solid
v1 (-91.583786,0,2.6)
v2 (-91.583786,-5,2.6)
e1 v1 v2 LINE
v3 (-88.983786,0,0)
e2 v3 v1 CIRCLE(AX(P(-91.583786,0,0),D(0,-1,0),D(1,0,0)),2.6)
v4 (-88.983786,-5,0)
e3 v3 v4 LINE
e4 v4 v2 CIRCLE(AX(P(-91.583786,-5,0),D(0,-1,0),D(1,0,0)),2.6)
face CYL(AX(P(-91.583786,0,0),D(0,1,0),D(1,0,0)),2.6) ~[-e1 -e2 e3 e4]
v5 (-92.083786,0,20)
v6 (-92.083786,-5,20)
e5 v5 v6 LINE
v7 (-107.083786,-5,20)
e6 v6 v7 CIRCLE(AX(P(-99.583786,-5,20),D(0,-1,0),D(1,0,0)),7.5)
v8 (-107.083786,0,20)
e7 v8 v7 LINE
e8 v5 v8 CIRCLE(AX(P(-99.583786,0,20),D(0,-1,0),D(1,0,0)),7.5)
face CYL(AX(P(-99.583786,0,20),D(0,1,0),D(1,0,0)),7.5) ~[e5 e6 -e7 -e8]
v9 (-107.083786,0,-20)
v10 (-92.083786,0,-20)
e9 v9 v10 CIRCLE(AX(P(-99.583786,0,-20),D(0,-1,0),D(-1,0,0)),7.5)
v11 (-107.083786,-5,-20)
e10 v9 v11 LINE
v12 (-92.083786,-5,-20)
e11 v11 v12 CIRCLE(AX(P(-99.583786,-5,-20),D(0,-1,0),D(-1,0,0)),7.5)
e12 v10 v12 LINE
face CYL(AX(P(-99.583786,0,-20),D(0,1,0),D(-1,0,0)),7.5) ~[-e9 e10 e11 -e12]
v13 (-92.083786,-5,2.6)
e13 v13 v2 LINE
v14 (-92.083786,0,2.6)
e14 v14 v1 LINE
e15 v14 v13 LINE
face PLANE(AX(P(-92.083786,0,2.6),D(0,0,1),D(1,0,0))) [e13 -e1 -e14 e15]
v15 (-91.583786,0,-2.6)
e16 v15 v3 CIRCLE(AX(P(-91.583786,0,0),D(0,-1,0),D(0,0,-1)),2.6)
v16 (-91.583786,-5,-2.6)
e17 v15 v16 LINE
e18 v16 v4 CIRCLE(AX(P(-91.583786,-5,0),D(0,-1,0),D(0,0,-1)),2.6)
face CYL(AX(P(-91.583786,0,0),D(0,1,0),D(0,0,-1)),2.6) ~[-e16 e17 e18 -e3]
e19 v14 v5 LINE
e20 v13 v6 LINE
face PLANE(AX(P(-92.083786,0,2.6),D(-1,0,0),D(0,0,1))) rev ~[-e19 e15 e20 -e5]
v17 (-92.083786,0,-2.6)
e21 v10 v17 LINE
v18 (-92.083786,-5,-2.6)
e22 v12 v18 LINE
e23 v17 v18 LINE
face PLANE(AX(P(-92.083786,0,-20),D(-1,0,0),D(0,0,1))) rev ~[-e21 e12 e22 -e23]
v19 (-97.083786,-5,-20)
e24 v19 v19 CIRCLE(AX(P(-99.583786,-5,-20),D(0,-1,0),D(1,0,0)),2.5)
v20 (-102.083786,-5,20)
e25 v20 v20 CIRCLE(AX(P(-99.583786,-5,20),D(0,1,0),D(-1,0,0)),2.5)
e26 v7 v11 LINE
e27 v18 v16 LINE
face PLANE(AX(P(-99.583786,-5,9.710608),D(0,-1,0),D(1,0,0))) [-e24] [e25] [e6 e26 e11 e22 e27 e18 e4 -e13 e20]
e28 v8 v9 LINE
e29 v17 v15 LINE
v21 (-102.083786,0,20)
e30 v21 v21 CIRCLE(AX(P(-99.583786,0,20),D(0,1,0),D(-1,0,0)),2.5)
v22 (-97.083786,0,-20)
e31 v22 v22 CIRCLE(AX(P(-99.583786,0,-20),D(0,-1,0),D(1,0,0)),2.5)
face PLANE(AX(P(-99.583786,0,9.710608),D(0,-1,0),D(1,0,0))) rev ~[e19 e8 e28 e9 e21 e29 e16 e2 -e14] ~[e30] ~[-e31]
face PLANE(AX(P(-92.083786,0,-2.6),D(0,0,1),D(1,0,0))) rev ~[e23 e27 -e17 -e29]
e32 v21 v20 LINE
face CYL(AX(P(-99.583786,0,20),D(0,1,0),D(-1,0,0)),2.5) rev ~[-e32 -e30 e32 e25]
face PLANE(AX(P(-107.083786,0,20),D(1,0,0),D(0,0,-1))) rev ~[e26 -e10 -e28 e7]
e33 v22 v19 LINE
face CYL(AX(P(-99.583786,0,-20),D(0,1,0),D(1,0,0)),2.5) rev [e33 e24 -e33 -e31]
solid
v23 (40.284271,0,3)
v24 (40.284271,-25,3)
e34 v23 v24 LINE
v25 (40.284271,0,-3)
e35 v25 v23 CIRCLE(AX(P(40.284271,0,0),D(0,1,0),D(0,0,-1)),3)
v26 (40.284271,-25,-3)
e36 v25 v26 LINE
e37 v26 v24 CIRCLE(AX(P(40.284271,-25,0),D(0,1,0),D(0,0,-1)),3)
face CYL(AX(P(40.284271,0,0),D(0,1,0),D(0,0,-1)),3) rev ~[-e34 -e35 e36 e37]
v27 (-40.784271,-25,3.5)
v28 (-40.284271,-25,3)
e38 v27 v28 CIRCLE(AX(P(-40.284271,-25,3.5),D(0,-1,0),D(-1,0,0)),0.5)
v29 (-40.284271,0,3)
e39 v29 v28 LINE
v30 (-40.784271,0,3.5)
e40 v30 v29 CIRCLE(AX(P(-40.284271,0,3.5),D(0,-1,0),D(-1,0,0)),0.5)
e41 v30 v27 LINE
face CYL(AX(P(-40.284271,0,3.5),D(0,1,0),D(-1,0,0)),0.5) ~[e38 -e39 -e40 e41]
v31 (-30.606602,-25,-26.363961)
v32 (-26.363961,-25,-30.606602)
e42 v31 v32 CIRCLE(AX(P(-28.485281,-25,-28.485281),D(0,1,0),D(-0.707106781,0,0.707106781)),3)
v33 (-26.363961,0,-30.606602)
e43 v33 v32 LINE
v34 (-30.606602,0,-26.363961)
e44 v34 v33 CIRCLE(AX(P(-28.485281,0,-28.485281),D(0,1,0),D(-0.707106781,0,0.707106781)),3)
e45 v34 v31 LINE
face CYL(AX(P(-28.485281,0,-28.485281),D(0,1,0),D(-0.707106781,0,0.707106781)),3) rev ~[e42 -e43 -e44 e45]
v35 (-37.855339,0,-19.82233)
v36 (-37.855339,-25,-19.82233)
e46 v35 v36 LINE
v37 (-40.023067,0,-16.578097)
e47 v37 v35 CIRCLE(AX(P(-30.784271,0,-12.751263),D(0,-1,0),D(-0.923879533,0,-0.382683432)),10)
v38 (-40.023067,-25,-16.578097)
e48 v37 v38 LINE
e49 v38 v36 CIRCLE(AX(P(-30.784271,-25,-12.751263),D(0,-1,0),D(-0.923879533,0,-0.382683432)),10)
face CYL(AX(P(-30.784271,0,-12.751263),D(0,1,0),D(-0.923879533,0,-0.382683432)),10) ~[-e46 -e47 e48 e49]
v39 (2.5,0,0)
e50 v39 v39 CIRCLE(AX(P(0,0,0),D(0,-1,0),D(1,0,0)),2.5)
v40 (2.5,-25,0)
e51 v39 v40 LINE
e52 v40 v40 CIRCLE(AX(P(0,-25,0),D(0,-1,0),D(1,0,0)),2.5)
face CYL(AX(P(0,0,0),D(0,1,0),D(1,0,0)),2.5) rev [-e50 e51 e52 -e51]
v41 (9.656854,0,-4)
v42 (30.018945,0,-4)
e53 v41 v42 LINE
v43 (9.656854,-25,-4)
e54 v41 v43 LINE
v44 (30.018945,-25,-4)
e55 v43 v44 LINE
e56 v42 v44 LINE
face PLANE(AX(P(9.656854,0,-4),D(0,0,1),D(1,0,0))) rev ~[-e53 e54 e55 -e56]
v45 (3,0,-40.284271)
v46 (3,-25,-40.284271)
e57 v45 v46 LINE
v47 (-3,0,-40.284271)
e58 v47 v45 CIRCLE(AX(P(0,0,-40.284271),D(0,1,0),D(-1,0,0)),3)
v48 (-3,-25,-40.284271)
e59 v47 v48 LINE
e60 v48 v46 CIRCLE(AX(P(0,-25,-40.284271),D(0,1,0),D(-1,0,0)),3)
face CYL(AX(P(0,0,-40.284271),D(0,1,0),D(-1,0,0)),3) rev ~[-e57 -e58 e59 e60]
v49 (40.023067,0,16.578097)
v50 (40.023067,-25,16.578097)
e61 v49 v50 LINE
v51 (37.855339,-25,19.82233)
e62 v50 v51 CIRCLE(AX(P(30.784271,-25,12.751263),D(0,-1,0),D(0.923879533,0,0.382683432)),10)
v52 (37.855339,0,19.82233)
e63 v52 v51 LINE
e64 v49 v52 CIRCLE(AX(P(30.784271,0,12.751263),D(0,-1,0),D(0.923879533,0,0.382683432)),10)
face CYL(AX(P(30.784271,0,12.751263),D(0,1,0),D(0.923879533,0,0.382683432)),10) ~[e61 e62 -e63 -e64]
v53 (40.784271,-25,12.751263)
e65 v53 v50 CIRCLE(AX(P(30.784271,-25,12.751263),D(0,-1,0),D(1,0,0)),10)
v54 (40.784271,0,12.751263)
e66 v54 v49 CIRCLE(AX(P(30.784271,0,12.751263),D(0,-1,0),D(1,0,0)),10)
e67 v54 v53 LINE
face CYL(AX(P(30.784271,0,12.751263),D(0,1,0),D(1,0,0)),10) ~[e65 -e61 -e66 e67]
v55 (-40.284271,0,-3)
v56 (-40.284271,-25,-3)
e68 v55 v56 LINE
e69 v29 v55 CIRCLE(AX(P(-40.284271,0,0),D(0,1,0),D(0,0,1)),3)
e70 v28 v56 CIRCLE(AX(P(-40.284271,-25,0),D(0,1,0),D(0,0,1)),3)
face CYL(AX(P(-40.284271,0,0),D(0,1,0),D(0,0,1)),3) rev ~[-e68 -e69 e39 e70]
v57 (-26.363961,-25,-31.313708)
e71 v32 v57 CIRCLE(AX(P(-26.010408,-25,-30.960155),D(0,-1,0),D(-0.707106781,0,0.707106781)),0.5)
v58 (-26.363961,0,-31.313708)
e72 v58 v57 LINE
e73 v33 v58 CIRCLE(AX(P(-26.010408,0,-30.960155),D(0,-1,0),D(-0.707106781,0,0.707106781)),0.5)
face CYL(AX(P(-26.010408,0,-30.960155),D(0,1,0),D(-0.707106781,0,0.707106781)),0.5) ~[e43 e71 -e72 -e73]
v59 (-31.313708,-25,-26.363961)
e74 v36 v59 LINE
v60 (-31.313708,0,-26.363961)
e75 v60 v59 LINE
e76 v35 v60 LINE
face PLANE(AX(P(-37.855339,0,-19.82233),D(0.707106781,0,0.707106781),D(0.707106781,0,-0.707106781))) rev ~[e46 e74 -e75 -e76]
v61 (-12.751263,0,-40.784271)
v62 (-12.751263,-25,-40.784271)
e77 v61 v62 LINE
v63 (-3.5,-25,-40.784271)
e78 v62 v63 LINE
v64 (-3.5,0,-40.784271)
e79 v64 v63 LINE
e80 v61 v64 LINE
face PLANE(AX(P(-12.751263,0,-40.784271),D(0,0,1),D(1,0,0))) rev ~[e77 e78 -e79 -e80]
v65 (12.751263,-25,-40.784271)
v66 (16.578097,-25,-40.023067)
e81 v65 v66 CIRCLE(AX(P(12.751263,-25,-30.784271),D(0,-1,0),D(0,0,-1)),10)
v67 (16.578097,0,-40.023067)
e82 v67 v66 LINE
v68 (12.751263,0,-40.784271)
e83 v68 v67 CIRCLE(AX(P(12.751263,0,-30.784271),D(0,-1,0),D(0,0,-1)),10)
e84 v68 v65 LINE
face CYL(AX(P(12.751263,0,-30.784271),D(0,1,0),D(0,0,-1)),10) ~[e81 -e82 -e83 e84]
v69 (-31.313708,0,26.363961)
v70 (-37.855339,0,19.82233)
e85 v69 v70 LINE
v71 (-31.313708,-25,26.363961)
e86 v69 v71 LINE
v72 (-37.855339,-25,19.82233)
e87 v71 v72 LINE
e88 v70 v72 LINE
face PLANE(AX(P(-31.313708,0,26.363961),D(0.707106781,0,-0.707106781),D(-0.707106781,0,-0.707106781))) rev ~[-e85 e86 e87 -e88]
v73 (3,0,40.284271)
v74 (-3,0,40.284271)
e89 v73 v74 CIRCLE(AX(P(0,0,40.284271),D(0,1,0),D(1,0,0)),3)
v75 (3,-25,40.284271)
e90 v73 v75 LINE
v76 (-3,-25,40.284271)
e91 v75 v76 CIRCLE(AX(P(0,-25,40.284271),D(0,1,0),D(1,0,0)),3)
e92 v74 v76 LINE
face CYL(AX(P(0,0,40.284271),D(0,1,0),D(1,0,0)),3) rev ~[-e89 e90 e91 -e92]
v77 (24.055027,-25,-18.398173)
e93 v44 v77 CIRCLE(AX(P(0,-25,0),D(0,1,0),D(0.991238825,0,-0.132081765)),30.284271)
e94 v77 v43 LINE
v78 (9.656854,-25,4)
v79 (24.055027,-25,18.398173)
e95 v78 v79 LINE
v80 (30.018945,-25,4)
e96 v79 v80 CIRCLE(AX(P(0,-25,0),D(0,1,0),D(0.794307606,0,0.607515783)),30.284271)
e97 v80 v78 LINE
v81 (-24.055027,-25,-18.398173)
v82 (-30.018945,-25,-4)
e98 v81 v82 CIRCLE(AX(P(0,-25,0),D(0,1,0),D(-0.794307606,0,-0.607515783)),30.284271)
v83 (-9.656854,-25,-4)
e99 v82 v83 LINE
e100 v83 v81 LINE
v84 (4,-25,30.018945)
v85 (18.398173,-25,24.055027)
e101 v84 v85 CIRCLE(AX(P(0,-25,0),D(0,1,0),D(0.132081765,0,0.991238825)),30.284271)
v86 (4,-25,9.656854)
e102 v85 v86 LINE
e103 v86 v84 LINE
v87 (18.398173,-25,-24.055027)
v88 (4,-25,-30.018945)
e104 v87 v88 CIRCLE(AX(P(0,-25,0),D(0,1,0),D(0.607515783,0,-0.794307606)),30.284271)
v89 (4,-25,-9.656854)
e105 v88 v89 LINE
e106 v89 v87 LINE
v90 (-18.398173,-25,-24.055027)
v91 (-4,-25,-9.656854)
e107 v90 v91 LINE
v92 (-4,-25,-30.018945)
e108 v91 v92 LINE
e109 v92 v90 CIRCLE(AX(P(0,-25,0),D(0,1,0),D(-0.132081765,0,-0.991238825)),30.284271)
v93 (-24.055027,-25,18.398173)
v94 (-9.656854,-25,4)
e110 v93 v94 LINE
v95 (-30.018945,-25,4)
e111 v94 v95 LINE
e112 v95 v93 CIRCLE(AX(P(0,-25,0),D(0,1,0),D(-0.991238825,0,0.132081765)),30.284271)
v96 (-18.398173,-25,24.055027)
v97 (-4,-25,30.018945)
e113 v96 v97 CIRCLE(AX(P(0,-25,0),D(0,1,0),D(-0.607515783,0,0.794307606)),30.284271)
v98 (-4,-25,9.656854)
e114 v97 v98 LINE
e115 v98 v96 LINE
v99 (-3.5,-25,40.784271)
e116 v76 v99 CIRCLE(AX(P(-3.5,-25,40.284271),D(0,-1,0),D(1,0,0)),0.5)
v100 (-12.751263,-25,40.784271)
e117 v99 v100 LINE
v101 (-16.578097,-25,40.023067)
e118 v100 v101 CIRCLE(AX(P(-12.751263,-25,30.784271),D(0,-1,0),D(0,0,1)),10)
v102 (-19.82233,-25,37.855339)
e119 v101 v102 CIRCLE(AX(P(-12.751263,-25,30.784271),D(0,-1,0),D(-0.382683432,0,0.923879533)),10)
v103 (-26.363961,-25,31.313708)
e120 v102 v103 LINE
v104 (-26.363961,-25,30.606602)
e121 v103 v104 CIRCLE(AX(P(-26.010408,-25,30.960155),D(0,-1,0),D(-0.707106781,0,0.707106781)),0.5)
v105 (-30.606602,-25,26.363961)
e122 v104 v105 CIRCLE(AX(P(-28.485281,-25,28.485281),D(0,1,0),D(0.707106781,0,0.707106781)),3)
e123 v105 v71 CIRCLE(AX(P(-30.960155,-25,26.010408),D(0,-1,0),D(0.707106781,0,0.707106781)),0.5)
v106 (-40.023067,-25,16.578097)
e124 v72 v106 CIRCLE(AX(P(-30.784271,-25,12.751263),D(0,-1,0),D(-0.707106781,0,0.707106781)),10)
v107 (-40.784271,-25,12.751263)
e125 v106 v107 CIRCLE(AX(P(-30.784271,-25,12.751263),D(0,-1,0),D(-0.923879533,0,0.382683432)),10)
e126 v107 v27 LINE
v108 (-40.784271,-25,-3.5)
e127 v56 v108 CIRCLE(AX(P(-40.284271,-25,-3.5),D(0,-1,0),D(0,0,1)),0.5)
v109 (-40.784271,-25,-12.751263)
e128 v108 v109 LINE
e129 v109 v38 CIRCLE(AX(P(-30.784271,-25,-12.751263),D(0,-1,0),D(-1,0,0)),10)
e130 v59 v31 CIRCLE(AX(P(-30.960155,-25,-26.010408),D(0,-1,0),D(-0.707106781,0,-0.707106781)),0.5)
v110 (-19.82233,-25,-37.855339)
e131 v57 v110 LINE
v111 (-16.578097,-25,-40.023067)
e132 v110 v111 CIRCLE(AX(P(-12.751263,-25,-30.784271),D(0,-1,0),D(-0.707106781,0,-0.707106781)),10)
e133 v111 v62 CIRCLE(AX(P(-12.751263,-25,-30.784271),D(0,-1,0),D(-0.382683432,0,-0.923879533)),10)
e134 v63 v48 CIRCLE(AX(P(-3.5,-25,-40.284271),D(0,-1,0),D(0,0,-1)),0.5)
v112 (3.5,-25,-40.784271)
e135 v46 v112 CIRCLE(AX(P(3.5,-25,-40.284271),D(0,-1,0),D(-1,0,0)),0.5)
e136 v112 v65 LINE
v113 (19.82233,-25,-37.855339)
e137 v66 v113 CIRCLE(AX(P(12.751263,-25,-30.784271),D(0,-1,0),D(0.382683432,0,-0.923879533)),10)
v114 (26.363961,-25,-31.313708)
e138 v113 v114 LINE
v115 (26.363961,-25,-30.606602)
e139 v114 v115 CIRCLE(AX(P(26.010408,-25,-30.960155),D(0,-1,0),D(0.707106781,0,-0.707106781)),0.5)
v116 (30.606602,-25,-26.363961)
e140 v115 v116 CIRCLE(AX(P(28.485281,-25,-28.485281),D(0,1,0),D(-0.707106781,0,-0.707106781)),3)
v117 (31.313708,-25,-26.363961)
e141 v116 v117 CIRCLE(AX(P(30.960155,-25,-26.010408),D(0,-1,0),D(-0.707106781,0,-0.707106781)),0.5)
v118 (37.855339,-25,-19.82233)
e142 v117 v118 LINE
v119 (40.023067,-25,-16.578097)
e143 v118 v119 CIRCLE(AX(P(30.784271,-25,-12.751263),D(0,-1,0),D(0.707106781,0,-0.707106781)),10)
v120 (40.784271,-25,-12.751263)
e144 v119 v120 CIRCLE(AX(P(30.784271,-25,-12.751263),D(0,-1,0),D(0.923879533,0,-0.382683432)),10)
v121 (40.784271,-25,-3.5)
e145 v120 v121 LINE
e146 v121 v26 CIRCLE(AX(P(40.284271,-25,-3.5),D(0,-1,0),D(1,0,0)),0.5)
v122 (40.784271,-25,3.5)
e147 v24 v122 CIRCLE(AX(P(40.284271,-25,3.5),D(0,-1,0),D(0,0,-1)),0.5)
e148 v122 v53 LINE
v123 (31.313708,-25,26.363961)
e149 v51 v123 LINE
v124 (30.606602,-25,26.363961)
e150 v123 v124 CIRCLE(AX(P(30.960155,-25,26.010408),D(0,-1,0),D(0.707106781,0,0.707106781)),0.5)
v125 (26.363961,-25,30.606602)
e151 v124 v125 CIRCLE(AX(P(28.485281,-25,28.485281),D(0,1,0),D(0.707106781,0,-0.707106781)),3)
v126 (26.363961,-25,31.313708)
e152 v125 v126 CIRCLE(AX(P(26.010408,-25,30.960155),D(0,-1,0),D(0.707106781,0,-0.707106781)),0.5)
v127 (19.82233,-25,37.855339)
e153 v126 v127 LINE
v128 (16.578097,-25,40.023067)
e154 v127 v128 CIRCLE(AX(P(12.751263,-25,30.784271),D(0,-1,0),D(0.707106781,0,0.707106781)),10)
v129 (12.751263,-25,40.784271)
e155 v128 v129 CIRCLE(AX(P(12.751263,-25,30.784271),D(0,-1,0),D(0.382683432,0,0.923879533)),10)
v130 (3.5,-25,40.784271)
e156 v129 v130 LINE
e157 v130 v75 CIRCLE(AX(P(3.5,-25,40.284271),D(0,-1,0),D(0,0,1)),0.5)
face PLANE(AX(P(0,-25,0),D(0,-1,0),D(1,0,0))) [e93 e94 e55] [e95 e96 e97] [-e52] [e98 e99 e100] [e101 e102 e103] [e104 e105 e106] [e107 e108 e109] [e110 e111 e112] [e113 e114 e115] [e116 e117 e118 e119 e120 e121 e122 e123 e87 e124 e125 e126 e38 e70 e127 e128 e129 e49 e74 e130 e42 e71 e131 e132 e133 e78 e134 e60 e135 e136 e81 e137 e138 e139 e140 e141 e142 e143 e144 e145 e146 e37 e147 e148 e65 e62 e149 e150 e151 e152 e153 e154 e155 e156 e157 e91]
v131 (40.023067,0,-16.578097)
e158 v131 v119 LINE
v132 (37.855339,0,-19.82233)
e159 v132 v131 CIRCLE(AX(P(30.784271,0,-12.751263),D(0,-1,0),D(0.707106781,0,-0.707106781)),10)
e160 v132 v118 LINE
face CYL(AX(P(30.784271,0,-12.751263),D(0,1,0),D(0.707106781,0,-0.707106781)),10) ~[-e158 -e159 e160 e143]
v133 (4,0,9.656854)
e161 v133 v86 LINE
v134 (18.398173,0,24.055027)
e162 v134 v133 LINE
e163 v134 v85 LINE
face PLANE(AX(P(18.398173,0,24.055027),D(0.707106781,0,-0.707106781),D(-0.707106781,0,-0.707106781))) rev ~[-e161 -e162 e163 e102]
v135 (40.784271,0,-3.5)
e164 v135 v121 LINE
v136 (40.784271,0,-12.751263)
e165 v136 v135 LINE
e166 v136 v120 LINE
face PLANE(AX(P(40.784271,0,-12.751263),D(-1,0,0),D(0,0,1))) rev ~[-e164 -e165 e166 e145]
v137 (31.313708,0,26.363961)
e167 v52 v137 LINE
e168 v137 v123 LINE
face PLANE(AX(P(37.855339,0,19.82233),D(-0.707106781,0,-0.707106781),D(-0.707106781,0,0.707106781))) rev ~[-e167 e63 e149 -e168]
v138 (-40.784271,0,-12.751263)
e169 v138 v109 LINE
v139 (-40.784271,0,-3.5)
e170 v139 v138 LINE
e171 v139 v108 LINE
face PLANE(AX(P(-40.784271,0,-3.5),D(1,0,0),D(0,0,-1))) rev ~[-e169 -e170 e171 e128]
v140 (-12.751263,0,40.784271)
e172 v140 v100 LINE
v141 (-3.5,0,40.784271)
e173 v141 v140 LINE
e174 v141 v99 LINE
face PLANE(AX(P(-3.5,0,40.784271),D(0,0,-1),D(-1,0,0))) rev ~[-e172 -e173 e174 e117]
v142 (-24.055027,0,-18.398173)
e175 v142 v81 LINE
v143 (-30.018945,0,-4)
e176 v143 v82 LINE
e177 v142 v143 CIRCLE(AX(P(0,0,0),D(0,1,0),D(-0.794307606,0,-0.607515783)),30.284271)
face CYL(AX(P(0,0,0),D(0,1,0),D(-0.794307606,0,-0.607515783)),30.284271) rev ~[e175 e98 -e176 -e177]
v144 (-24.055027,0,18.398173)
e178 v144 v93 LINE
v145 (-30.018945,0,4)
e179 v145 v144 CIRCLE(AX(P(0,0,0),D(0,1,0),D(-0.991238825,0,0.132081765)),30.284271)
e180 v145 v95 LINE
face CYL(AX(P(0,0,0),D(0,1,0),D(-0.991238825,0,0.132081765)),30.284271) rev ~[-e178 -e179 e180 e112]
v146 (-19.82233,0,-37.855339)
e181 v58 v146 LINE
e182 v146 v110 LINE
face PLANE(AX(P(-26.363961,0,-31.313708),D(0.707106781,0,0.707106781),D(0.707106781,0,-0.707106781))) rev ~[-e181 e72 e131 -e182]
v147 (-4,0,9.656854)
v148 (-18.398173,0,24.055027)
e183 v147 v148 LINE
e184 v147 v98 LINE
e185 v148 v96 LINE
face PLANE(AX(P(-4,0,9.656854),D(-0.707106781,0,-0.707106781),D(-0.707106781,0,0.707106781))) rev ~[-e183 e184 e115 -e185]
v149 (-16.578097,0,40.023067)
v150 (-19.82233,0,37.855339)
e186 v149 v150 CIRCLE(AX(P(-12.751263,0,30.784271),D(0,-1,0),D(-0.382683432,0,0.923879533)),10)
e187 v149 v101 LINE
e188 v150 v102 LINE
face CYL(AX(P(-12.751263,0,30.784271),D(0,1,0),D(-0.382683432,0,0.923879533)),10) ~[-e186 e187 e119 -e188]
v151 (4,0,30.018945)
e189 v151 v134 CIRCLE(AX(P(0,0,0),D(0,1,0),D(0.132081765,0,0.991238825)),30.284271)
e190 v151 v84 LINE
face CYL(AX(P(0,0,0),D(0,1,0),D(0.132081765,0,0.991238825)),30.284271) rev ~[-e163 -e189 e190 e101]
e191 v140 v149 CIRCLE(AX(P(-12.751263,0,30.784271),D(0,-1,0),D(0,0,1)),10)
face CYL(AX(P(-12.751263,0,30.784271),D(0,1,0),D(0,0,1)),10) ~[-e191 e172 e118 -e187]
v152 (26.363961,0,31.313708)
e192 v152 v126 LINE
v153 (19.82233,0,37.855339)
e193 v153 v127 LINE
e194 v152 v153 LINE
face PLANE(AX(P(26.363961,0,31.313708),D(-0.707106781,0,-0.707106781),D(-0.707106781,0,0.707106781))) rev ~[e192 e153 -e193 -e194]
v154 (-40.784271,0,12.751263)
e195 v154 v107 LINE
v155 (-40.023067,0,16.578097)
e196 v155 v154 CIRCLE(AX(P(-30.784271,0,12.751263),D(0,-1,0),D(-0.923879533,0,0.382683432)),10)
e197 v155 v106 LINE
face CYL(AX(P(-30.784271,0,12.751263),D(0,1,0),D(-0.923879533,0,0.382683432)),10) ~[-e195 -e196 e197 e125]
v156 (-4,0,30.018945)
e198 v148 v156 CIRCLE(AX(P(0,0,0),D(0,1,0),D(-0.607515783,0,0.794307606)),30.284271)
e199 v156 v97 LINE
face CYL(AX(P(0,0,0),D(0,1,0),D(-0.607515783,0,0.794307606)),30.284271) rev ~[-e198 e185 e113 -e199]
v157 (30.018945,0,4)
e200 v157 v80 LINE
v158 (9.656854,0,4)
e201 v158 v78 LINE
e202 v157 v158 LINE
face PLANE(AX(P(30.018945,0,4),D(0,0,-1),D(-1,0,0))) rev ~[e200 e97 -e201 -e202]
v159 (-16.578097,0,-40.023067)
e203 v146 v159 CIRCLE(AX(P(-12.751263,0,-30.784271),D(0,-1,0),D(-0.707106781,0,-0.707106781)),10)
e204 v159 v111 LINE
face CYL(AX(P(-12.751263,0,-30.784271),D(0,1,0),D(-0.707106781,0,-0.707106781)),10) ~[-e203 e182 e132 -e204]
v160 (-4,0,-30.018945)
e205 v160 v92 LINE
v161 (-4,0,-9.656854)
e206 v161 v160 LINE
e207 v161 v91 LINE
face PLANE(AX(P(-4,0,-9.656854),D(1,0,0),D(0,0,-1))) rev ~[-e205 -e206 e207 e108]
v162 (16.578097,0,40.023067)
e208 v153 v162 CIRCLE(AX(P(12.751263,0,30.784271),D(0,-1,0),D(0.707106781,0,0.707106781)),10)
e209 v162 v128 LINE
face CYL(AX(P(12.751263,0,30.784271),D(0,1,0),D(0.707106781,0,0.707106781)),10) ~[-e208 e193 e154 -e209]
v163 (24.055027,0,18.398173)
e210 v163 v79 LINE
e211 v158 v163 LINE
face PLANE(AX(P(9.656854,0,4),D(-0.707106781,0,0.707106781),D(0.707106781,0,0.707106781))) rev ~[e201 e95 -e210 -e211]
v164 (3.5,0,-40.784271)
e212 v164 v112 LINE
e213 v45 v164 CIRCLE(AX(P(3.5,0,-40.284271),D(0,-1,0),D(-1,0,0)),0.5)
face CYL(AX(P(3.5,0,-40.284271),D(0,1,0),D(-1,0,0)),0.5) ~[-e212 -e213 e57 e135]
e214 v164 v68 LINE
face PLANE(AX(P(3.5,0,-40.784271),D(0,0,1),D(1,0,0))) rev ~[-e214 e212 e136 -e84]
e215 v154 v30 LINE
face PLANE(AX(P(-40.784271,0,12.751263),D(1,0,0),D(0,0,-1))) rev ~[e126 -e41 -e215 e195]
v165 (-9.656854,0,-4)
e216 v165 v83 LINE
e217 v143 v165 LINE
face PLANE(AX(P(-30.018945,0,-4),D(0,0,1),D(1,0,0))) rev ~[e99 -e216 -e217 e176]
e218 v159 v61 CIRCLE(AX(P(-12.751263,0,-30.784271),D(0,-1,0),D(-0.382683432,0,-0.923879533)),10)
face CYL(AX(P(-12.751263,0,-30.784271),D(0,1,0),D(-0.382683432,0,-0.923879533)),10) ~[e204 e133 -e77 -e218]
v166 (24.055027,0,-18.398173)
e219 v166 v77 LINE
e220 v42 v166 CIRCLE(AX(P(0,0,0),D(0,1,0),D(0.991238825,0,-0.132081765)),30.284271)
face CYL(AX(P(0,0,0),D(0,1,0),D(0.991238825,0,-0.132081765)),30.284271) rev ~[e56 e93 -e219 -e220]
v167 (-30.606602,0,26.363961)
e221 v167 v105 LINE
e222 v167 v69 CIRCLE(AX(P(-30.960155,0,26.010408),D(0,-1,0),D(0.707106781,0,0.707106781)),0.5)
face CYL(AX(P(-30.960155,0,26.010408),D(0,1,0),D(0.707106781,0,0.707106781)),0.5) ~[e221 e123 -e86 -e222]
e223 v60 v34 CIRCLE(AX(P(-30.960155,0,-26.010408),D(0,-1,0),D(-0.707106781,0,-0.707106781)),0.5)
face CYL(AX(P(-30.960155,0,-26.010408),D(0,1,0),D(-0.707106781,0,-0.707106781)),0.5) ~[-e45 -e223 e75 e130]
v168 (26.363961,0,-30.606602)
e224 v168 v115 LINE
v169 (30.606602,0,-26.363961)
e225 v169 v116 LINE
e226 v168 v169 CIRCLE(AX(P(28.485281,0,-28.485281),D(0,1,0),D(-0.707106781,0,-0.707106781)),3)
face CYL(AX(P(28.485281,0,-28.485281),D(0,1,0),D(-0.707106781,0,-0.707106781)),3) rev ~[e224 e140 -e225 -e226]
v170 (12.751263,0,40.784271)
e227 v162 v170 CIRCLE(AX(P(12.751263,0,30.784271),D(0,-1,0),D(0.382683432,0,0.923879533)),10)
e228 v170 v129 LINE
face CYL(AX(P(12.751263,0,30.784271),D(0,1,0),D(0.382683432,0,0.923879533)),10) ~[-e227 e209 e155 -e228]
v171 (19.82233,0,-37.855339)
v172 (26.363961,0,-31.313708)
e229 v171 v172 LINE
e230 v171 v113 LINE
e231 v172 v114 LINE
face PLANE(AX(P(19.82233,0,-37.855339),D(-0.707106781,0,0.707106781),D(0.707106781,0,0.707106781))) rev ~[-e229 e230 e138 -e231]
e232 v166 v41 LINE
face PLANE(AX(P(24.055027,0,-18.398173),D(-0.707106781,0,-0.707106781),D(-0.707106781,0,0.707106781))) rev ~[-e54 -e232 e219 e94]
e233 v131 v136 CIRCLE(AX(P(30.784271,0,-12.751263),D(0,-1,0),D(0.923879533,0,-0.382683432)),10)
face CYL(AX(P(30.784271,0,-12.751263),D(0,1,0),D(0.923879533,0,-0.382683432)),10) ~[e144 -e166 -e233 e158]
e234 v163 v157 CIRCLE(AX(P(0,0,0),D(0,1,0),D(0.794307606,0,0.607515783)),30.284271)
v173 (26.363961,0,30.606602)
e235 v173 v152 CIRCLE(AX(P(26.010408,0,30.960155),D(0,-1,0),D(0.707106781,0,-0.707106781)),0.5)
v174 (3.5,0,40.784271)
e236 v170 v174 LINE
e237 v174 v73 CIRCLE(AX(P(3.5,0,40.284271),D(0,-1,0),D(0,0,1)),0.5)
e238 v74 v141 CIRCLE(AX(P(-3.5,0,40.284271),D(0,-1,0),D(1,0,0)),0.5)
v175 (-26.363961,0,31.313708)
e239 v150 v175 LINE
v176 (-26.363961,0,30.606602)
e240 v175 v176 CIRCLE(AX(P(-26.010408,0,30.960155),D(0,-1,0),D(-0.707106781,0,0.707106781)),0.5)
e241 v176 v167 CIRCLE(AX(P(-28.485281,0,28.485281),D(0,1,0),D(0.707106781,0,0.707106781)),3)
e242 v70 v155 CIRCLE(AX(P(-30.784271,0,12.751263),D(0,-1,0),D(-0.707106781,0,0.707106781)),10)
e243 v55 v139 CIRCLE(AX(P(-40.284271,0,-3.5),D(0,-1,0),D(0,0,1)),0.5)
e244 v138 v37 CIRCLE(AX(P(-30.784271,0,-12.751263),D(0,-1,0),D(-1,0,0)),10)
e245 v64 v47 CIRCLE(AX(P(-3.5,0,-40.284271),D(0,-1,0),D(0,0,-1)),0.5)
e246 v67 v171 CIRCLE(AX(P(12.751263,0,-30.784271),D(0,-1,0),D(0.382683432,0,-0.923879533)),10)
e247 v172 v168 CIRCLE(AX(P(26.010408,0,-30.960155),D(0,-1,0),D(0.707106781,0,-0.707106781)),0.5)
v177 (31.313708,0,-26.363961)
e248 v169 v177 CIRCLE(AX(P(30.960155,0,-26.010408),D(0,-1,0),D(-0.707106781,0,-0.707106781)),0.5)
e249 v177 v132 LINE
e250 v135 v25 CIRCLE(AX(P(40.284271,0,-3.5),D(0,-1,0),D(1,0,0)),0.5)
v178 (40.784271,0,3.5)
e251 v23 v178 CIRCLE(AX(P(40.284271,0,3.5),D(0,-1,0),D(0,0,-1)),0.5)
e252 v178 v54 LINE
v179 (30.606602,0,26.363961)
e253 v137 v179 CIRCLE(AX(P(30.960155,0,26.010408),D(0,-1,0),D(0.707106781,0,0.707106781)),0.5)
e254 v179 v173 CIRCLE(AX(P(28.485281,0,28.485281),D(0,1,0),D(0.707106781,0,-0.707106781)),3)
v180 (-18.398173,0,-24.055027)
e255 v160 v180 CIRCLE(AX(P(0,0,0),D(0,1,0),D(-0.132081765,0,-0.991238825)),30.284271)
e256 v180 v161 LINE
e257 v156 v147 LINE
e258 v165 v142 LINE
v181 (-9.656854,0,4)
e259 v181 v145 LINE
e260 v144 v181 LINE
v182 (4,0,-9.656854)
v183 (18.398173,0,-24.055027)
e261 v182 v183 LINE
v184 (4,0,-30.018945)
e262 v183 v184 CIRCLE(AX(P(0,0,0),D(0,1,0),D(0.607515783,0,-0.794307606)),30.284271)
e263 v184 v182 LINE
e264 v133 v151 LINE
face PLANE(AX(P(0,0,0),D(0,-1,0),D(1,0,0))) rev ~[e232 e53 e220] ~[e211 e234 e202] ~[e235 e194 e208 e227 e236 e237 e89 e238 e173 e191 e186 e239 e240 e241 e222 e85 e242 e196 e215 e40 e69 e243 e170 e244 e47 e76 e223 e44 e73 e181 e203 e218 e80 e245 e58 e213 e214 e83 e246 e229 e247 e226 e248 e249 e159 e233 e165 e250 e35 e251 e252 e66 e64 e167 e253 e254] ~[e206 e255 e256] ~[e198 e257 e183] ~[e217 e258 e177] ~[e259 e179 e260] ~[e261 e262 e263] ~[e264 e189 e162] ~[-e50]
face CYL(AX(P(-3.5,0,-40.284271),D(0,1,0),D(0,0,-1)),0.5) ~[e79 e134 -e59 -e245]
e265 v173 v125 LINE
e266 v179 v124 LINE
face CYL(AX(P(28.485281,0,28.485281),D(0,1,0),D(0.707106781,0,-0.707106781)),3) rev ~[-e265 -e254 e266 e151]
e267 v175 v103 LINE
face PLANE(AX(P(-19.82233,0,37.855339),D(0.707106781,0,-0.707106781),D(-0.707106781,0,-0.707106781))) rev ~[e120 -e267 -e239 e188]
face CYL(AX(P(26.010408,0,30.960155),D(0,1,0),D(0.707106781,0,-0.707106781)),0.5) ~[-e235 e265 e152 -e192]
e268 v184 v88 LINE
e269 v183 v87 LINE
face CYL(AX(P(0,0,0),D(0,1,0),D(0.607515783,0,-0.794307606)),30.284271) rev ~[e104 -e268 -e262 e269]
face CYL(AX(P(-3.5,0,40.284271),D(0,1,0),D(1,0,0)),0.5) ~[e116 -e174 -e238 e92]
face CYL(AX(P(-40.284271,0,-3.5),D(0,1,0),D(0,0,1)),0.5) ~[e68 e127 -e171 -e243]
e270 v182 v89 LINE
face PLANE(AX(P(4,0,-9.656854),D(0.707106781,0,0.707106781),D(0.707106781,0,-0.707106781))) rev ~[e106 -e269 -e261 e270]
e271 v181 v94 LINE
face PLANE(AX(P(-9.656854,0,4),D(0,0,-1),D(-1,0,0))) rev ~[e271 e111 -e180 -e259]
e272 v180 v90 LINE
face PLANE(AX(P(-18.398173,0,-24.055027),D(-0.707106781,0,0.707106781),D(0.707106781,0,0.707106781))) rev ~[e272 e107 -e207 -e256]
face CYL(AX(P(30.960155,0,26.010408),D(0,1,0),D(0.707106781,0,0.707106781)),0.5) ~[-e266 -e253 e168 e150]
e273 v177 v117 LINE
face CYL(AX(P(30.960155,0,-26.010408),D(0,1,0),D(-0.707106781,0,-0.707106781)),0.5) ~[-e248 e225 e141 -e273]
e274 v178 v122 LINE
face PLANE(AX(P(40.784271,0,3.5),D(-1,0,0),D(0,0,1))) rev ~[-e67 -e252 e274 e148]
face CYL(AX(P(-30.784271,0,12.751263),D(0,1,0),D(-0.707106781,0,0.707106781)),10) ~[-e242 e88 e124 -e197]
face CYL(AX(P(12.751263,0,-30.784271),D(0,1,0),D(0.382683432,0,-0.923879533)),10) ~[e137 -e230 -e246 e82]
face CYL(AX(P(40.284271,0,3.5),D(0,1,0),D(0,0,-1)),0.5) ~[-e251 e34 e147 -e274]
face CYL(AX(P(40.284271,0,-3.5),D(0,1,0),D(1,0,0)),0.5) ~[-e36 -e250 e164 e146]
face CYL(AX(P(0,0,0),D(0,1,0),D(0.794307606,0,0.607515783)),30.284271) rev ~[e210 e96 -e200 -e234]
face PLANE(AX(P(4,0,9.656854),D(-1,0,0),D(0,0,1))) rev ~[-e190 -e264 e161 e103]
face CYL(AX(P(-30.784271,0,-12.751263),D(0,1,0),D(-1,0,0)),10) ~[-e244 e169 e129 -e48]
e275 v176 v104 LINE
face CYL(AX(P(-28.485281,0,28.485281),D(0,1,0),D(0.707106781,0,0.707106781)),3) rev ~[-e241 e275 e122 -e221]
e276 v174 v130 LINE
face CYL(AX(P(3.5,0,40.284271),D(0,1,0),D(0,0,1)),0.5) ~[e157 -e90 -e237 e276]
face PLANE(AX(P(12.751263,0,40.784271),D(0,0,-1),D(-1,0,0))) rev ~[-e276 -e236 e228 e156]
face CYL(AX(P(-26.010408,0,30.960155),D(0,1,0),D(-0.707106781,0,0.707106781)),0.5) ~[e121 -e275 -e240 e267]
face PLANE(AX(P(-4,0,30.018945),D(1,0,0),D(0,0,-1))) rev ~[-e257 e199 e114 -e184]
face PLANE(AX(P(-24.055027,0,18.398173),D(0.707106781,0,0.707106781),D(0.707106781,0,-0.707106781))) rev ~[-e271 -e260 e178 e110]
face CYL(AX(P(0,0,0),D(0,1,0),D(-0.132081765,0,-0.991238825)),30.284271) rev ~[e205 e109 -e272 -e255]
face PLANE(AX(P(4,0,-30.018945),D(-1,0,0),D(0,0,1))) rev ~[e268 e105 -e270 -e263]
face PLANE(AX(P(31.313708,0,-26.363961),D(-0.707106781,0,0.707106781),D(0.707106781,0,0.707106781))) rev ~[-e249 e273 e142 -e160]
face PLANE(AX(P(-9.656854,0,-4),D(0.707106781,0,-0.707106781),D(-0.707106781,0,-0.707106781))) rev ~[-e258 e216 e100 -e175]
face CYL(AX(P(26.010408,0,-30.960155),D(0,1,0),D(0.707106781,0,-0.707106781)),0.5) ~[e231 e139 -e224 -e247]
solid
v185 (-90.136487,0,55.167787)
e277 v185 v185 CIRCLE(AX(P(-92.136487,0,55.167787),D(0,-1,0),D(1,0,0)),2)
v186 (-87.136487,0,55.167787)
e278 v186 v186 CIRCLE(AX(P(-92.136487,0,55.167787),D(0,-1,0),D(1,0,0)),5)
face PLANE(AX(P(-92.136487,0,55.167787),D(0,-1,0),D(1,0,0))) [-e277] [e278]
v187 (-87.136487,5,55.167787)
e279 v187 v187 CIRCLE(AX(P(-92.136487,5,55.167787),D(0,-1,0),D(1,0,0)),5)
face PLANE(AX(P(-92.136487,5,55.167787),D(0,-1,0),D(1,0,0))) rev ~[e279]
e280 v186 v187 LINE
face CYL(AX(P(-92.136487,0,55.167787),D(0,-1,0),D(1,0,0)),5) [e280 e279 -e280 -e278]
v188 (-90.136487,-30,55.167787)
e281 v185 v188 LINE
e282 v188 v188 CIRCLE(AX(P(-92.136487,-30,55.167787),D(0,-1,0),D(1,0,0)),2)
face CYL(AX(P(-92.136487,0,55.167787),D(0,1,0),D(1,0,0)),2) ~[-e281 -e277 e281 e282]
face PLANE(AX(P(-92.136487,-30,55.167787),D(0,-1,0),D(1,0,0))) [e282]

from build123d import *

# Parameters (mm, degrees)
F0_W     = 0.5
F0_H     = 2.6
F0_R     = 2.5
F1_DEPTH = 5
F2_DEPTH = 25
F0_R_2   = 2
F3_DEPTH = 30
F0_R_3   = 5
F4_DEPTH = 5


with BuildPart() as f1:
    # F0 (on Front) → F1 (new body)
    with BuildSketch(Plane.XZ):
        with BuildLine():
            Line((-92.0837859809, 2.6), (-92.0837859809, 20))
            ThreePointArc((-92.0837859809, 20), (-99.5837859809, 12.5), (-107.0837859809, 20))
            Line((-107.0837859809, 20), (-107.0837859809, 0))
            Line((-107.0837859809, 0), (-92.0837859809, 0))
            Line((-92.0837859809, 0), (-92.0837859809, 2.6))
        make_face()
        with BuildLine():
            Line((-92.0837859809, -2.6), (-92.0837859809, 0))
            Line((-92.0837859809, 0), (-107.0837859809, 0))
            Line((-107.0837859809, 0), (-107.0837859809, -20))
            ThreePointArc((-107.0837859809, -20), (-99.5837859809, -12.5), (-92.0837859809, -20))
            Line((-92.0837859809, -20), (-92.0837859809, -2.6))
        make_face()
        with BuildLine():
            Line((-92.0837859809, 20), (-97.0837859809, 20))
            ThreePointArc((-97.0837859809, 20), (-99.5837859809, 17.5), (-102.0837859809, 20))
            Line((-102.0837859809, 20), (-107.0837859809, 20))
            ThreePointArc((-107.0837859809, 20), (-99.5837859809, 12.5), (-92.0837859809, 20))
        make_face()
        with BuildLine():
            ThreePointArc((-102.0837859809, 20), (-99.5837859809, 22.5), (-97.0837859809, 20))
            Line((-97.0837859809, 20), (-92.0837859809, 20))
            ThreePointArc((-92.0837859809, 20), (-99.5837859809, 27.5), (-107.0837859809, 20))
            Line((-107.0837859809, 20), (-102.0837859809, 20))
        make_face()
        with BuildLine():
            Line((-91.5837859809, 0), (-92.0837859809, 0))
            Line((-92.0837859809, 0), (-92.0837859809, -2.6))
            Line((-92.0837859809, -2.6), (-91.5837859809, -2.6))
            ThreePointArc((-91.5837859809, -2.6), (-89.7453083499, -1.8384776311), (-88.9837859809, 0))
            ThreePointArc((-88.9837859809, 0), (-89.7453083499, 1.8384776311), (-91.5837859809, 2.6))
            Line((-91.5837859809, 2.6), (-91.5837859809, 0))
        make_face()
        with Locations((-91.8337859809, 1.3)):
            Rectangle(F0_W, F0_H)
        with BuildLine():
            ThreePointArc((-92.0837859809, -20), (-99.5837859809, -12.5), (-107.0837859809, -20))
            ThreePointArc((-107.0837859809, -20), (-99.5837859809, -27.5), (-92.0837859809, -20))
        make_face()
        with Locations((-99.5837859809, -20)):
            Circle(F0_R, mode=Mode.SUBTRACT)
    extrude(amount=F1_DEPTH)


with BuildPart() as f2:
    # F0 (on Front) → F2 (new body)
    with BuildSketch(Plane.XZ):
        with BuildLine():
            Line((40.7842712475, -12.7512626585), (40.7842712475, -3.5))
            ThreePointArc((40.7842712475, -3.5), (40.6378246381, -3.1464466094), (40.2842712475, -3))
            ThreePointArc((40.2842712475, -3), (37.2842712475, 0), (40.2842712475, 3))
            ThreePointArc((40.2842712475, 3), (40.6378246381, 3.1464466094), (40.7842712475, 3.5))
            Line((40.7842712475, 3.5), (40.7842712475, 12.7512626585))
            ThreePointArc((40.7842712475, 12.7512626585), (40.5921240515, 14.7021658786), (40.0230665726, 16.5780969821))
            ThreePointArc((40.0230665726, 16.5780969821), (39.0989673705, 18.3069649887), (37.8553390593, 19.8223304703))
            Line((37.8553390593, 19.8223304703), (31.313708499, 26.3639610307))
            ThreePointArc((31.313708499, 26.3639610307), (30.9601551084, 26.5104076401), (30.6066017178, 26.3639610307))
            ThreePointArc((30.6066017178, 26.3639610307), (26.3639610307, 26.3639610307), (26.3639610307, 30.6066017178))
            ThreePointArc((26.3639610307, 30.6066017178), (26.5104076401, 30.9601551084), (26.3639610307, 31.313708499))
            Line((26.3639610307, 31.313708499), (19.8223304703, 37.8553390593))
            ThreePointArc((19.8223304703, 37.8553390593), (18.3069649887, 39.0989673705), (16.5780969821, 40.0230665726))
            ThreePointArc((16.5780969821, 40.0230665726), (14.7021658786, 40.5921240515), (12.7512626585, 40.7842712475))
            Line((12.7512626585, 40.7842712475), (3.5, 40.7842712475))
            ThreePointArc((3.5, 40.7842712475), (3.1464466094, 40.6378246381), (3, 40.2842712475))
            ThreePointArc((3, 40.2842712475), (0, 37.2842712475), (-3, 40.2842712475))
            ThreePointArc((-3, 40.2842712475), (-3.1464466094, 40.6378246381), (-3.5, 40.7842712475))
            Line((-3.5, 40.7842712475), (-12.7512626585, 40.7842712475))
            ThreePointArc((-12.7512626585, 40.7842712475), (-14.7021658786, 40.5921240515), (-16.5780969821, 40.0230665726))
            ThreePointArc((-16.5780969821, 40.0230665726), (-18.3069649887, 39.0989673705), (-19.8223304703, 37.8553390593))
            Line((-19.8223304703, 37.8553390593), (-26.3639610307, 31.313708499))
            ThreePointArc((-26.3639610307, 31.313708499), (-26.5104076401, 30.9601551084), (-26.3639610307, 30.6066017178))
            ThreePointArc((-26.3639610307, 30.6066017178), (-26.3639610307, 26.3639610307), (-30.6066017178, 26.3639610307))
            ThreePointArc((-30.6066017178, 26.3639610307), (-30.9601551084, 26.5104076401), (-31.313708499, 26.3639610307))
            Line((-31.313708499, 26.3639610307), (-37.8553390593, 19.8223304703))
            ThreePointArc((-37.8553390593, 19.8223304703), (-39.0989673705, 18.3069649887), (-40.0230665726, 16.5780969821))
            ThreePointArc((-40.0230665726, 16.5780969821), (-40.5921240515, 14.7021658786), (-40.7842712475, 12.7512626585))
            Line((-40.7842712475, 12.7512626585), (-40.7842712475, 3.5))
            ThreePointArc((-40.7842712475, 3.5), (-40.6378246381, 3.1464466094), (-40.2842712475, 3))
            ThreePointArc((-40.2842712475, 3), (-37.2842712475, 0), (-40.2842712475, -3))
            ThreePointArc((-40.2842712475, -3), (-40.6378246381, -3.1464466094), (-40.7842712475, -3.5))
            Line((-40.7842712475, -3.5), (-40.7842712475, -12.7512626585))
            ThreePointArc((-40.7842712475, -12.7512626585), (-40.5921240515, -14.7021658786), (-40.0230665726, -16.5780969821))
            ThreePointArc((-40.0230665726, -16.5780969821), (-39.0989673705, -18.3069649887), (-37.8553390593, -19.8223304703))
            Line((-37.8553390593, -19.8223304703), (-31.313708499, -26.3639610307))
            ThreePointArc((-31.313708499, -26.3639610307), (-30.9601551084, -26.5104076401), (-30.6066017178, -26.3639610307))
            ThreePointArc((-30.6066017178, -26.3639610307), (-26.3639610307, -26.3639610307), (-26.3639610307, -30.6066017178))
            ThreePointArc((-26.3639610307, -30.6066017178), (-26.5104076401, -30.9601551084), (-26.3639610307, -31.313708499))
            Line((-26.3639610307, -31.313708499), (-19.8223304703, -37.8553390593))
            ThreePointArc((-19.8223304703, -37.8553390593), (-18.3069649887, -39.0989673705), (-16.5780969821, -40.0230665726))
            ThreePointArc((-16.5780969821, -40.0230665726), (-14.7021658786, -40.5921240515), (-12.7512626585, -40.7842712475))
            Line((-12.7512626585, -40.7842712475), (-3.5, -40.7842712475))
            ThreePointArc((-3.5, -40.7842712475), (-3.1464466094, -40.6378246381), (-3, -40.2842712475))
            ThreePointArc((-3, -40.2842712475), (0, -37.2842712475), (3, -40.2842712475))
            ThreePointArc((3, -40.2842712475), (3.1464466094, -40.6378246381), (3.5, -40.7842712475))
            Line((3.5, -40.7842712475), (12.7512626585, -40.7842712475))
            ThreePointArc((12.7512626585, -40.7842712475), (14.7021658786, -40.5921240515), (16.5780969821, -40.0230665726))
            ThreePointArc((16.5780969821, -40.0230665726), (18.3069649887, -39.0989673705), (19.8223304703, -37.8553390593))
            Line((19.8223304703, -37.8553390593), (26.3639610307, -31.313708499))
            ThreePointArc((26.3639610307, -31.313708499), (26.5104076401, -30.9601551084), (26.3639610307, -30.6066017178))
            ThreePointArc((26.3639610307, -30.6066017178), (26.3639610307, -26.3639610307), (30.6066017178, -26.3639610307))
            ThreePointArc((30.6066017178, -26.3639610307), (30.9601551084, -26.5104076401), (31.313708499, -26.3639610307))
            Line((31.313708499, -26.3639610307), (37.8553390593, -19.8223304703))
            ThreePointArc((37.8553390593, -19.8223304703), (39.0989673705, -18.3069649887), (40.0230665726, -16.5780969821))
            ThreePointArc((40.0230665726, -16.5780969821), (40.5921240515, -14.7021658786), (40.7842712475, -12.7512626585))
        make_face()
        with BuildLine():
            ThreePointArc((30.0189454343, 4), (30.2178669919, 2.0043950326), (30.2842712475, 0))
            ThreePointArc((30.2842712475, 0), (30.2178669919, -2.0043950326), (30.0189454343, -4))
            ThreePointArc((30.0189454343, -4), (27.9790183626, -11.5892888677), (24.0550270054, -18.3981727559))
            ThreePointArc((24.0550270054, -18.3981727559), (21.4142135624, -21.4142135624), (18.3981727559, -24.0550270054))
            ThreePointArc((18.3981727559, -24.0550270054), (11.5892888677, -27.9790183626), (4, -30.0189454343))
            ThreePointArc((4, -30.0189454343), (0, -30.2842712475), (-4, -30.0189454343))
            ThreePointArc((-4, -30.0189454343), (-11.5892888677, -27.9790183626), (-18.3981727559, -24.0550270054))
            ThreePointArc((-18.3981727559, -24.0550270054), (-21.4142135624, -21.4142135624), (-24.0550270054, -18.3981727559))
            ThreePointArc((-24.0550270054, -18.3981727559), (-27.9790183626, -11.5892888677), (-30.0189454343, -4))
            ThreePointArc((-30.0189454343, -4), (-30.2842712475, 0), (-30.0189454343, 4))
            ThreePointArc((-30.0189454343, 4), (-27.9790183626, 11.5892888677), (-24.0550270054, 18.3981727559))
            ThreePointArc((-24.0550270054, 18.3981727559), (-21.4142135624, 21.4142135624), (-18.3981727559, 24.0550270054))
            ThreePointArc((-18.3981727559, 24.0550270054), (-11.5892888677, 27.9790183626), (-4, 30.0189454343))
            ThreePointArc((-4, 30.0189454343), (0, 30.2842712475), (4, 30.0189454343))
            ThreePointArc((4, 30.0189454343), (11.5892888677, 27.9790183626), (18.3981727559, 24.0550270054))
            ThreePointArc((18.3981727559, 24.0550270054), (21.4142135624, 21.4142135624), (24.0550270054, 18.3981727559))
            ThreePointArc((24.0550270054, 18.3981727559), (27.9790183626, 11.5892888677), (30.0189454343, 4))
        make_face(mode=Mode.SUBTRACT)
        with BuildLine():
            ThreePointArc((30.0189454343, -4), (30.2178669919, -2.0043950326), (30.2842712475, 0))
            ThreePointArc((30.2842712475, 0), (30.2178669919, 2.0043950326), (30.0189454343, 4))
            Line((30.0189454343, 4), (9.6568542495, 4))
            Line((9.6568542495, 4), (24.0550270054, 18.3981727559))
            ThreePointArc((24.0550270054, 18.3981727559), (21.4142135624, 21.4142135624), (18.3981727559, 24.0550270054))
            Line((18.3981727559, 24.0550270054), (4, 9.6568542495))
            Line((4, 9.6568542495), (4, 30.0189454343))
            ThreePointArc((4, 30.0189454343), (0, 30.2842712475), (-4, 30.0189454343))
            Line((-4, 30.0189454343), (-4, 9.6568542495))
            Line((-4, 9.6568542495), (-18.3981727559, 24.0550270054))
            ThreePointArc((-18.3981727559, 24.0550270054), (-21.4142135624, 21.4142135624), (-24.0550270054, 18.3981727559))
            Line((-24.0550270054, 18.3981727559), (-9.6568542495, 4))
            Line((-9.6568542495, 4), (-30.0189454343, 4))
            ThreePointArc((-30.0189454343, 4), (-30.2842712475, 0), (-30.0189454343, -4))
            Line((-30.0189454343, -4), (-9.6568542495, -4))
            Line((-9.6568542495, -4), (-24.0550270054, -18.3981727559))
            ThreePointArc((-24.0550270054, -18.3981727559), (-21.4142135624, -21.4142135624), (-18.3981727559, -24.0550270054))
            Line((-18.3981727559, -24.0550270054), (-4, -9.6568542495))
            Line((-4, -9.6568542495), (-4, -30.0189454343))
            ThreePointArc((-4, -30.0189454343), (0, -30.2842712475), (4, -30.0189454343))
            Line((4, -30.0189454343), (4, -9.6568542495))
            Line((4, -9.6568542495), (18.3981727559, -24.0550270054))
            ThreePointArc((18.3981727559, -24.0550270054), (21.4142135624, -21.4142135624), (24.0550270054, -18.3981727559))
            Line((24.0550270054, -18.3981727559), (9.6568542495, -4))
            Line((9.6568542495, -4), (30.0189454343, -4))
        make_face()
        Circle(F0_R, mode=Mode.SUBTRACT)
    extrude(amount=F2_DEPTH)


with BuildPart() as f3:
    # F0 (on Front) → F3 (new body)
    with BuildSketch(Plane.XZ):
        with Locations((-92.1364873648, 55.167786777)):
            Circle(F0_R_2)
    extrude(amount=F3_DEPTH)

    # F0 (on Front) → F4 (join)
    with BuildSketch(Plane.XZ):
        with Locations((-92.1364873648, 55.167786777)):
            Circle(F0_R_3)
        with Locations((-92.1364873648, 55.167786777)):
            Circle(F0_R_2, mode=Mode.SUBTRACT)
        with Locations((-92.1364873648, 55.167786777)):
            Circle(F0_R_2)
    extrude(amount=-F4_DEPTH)


solid = Compound([f1.part, f2.part, f3.part])
